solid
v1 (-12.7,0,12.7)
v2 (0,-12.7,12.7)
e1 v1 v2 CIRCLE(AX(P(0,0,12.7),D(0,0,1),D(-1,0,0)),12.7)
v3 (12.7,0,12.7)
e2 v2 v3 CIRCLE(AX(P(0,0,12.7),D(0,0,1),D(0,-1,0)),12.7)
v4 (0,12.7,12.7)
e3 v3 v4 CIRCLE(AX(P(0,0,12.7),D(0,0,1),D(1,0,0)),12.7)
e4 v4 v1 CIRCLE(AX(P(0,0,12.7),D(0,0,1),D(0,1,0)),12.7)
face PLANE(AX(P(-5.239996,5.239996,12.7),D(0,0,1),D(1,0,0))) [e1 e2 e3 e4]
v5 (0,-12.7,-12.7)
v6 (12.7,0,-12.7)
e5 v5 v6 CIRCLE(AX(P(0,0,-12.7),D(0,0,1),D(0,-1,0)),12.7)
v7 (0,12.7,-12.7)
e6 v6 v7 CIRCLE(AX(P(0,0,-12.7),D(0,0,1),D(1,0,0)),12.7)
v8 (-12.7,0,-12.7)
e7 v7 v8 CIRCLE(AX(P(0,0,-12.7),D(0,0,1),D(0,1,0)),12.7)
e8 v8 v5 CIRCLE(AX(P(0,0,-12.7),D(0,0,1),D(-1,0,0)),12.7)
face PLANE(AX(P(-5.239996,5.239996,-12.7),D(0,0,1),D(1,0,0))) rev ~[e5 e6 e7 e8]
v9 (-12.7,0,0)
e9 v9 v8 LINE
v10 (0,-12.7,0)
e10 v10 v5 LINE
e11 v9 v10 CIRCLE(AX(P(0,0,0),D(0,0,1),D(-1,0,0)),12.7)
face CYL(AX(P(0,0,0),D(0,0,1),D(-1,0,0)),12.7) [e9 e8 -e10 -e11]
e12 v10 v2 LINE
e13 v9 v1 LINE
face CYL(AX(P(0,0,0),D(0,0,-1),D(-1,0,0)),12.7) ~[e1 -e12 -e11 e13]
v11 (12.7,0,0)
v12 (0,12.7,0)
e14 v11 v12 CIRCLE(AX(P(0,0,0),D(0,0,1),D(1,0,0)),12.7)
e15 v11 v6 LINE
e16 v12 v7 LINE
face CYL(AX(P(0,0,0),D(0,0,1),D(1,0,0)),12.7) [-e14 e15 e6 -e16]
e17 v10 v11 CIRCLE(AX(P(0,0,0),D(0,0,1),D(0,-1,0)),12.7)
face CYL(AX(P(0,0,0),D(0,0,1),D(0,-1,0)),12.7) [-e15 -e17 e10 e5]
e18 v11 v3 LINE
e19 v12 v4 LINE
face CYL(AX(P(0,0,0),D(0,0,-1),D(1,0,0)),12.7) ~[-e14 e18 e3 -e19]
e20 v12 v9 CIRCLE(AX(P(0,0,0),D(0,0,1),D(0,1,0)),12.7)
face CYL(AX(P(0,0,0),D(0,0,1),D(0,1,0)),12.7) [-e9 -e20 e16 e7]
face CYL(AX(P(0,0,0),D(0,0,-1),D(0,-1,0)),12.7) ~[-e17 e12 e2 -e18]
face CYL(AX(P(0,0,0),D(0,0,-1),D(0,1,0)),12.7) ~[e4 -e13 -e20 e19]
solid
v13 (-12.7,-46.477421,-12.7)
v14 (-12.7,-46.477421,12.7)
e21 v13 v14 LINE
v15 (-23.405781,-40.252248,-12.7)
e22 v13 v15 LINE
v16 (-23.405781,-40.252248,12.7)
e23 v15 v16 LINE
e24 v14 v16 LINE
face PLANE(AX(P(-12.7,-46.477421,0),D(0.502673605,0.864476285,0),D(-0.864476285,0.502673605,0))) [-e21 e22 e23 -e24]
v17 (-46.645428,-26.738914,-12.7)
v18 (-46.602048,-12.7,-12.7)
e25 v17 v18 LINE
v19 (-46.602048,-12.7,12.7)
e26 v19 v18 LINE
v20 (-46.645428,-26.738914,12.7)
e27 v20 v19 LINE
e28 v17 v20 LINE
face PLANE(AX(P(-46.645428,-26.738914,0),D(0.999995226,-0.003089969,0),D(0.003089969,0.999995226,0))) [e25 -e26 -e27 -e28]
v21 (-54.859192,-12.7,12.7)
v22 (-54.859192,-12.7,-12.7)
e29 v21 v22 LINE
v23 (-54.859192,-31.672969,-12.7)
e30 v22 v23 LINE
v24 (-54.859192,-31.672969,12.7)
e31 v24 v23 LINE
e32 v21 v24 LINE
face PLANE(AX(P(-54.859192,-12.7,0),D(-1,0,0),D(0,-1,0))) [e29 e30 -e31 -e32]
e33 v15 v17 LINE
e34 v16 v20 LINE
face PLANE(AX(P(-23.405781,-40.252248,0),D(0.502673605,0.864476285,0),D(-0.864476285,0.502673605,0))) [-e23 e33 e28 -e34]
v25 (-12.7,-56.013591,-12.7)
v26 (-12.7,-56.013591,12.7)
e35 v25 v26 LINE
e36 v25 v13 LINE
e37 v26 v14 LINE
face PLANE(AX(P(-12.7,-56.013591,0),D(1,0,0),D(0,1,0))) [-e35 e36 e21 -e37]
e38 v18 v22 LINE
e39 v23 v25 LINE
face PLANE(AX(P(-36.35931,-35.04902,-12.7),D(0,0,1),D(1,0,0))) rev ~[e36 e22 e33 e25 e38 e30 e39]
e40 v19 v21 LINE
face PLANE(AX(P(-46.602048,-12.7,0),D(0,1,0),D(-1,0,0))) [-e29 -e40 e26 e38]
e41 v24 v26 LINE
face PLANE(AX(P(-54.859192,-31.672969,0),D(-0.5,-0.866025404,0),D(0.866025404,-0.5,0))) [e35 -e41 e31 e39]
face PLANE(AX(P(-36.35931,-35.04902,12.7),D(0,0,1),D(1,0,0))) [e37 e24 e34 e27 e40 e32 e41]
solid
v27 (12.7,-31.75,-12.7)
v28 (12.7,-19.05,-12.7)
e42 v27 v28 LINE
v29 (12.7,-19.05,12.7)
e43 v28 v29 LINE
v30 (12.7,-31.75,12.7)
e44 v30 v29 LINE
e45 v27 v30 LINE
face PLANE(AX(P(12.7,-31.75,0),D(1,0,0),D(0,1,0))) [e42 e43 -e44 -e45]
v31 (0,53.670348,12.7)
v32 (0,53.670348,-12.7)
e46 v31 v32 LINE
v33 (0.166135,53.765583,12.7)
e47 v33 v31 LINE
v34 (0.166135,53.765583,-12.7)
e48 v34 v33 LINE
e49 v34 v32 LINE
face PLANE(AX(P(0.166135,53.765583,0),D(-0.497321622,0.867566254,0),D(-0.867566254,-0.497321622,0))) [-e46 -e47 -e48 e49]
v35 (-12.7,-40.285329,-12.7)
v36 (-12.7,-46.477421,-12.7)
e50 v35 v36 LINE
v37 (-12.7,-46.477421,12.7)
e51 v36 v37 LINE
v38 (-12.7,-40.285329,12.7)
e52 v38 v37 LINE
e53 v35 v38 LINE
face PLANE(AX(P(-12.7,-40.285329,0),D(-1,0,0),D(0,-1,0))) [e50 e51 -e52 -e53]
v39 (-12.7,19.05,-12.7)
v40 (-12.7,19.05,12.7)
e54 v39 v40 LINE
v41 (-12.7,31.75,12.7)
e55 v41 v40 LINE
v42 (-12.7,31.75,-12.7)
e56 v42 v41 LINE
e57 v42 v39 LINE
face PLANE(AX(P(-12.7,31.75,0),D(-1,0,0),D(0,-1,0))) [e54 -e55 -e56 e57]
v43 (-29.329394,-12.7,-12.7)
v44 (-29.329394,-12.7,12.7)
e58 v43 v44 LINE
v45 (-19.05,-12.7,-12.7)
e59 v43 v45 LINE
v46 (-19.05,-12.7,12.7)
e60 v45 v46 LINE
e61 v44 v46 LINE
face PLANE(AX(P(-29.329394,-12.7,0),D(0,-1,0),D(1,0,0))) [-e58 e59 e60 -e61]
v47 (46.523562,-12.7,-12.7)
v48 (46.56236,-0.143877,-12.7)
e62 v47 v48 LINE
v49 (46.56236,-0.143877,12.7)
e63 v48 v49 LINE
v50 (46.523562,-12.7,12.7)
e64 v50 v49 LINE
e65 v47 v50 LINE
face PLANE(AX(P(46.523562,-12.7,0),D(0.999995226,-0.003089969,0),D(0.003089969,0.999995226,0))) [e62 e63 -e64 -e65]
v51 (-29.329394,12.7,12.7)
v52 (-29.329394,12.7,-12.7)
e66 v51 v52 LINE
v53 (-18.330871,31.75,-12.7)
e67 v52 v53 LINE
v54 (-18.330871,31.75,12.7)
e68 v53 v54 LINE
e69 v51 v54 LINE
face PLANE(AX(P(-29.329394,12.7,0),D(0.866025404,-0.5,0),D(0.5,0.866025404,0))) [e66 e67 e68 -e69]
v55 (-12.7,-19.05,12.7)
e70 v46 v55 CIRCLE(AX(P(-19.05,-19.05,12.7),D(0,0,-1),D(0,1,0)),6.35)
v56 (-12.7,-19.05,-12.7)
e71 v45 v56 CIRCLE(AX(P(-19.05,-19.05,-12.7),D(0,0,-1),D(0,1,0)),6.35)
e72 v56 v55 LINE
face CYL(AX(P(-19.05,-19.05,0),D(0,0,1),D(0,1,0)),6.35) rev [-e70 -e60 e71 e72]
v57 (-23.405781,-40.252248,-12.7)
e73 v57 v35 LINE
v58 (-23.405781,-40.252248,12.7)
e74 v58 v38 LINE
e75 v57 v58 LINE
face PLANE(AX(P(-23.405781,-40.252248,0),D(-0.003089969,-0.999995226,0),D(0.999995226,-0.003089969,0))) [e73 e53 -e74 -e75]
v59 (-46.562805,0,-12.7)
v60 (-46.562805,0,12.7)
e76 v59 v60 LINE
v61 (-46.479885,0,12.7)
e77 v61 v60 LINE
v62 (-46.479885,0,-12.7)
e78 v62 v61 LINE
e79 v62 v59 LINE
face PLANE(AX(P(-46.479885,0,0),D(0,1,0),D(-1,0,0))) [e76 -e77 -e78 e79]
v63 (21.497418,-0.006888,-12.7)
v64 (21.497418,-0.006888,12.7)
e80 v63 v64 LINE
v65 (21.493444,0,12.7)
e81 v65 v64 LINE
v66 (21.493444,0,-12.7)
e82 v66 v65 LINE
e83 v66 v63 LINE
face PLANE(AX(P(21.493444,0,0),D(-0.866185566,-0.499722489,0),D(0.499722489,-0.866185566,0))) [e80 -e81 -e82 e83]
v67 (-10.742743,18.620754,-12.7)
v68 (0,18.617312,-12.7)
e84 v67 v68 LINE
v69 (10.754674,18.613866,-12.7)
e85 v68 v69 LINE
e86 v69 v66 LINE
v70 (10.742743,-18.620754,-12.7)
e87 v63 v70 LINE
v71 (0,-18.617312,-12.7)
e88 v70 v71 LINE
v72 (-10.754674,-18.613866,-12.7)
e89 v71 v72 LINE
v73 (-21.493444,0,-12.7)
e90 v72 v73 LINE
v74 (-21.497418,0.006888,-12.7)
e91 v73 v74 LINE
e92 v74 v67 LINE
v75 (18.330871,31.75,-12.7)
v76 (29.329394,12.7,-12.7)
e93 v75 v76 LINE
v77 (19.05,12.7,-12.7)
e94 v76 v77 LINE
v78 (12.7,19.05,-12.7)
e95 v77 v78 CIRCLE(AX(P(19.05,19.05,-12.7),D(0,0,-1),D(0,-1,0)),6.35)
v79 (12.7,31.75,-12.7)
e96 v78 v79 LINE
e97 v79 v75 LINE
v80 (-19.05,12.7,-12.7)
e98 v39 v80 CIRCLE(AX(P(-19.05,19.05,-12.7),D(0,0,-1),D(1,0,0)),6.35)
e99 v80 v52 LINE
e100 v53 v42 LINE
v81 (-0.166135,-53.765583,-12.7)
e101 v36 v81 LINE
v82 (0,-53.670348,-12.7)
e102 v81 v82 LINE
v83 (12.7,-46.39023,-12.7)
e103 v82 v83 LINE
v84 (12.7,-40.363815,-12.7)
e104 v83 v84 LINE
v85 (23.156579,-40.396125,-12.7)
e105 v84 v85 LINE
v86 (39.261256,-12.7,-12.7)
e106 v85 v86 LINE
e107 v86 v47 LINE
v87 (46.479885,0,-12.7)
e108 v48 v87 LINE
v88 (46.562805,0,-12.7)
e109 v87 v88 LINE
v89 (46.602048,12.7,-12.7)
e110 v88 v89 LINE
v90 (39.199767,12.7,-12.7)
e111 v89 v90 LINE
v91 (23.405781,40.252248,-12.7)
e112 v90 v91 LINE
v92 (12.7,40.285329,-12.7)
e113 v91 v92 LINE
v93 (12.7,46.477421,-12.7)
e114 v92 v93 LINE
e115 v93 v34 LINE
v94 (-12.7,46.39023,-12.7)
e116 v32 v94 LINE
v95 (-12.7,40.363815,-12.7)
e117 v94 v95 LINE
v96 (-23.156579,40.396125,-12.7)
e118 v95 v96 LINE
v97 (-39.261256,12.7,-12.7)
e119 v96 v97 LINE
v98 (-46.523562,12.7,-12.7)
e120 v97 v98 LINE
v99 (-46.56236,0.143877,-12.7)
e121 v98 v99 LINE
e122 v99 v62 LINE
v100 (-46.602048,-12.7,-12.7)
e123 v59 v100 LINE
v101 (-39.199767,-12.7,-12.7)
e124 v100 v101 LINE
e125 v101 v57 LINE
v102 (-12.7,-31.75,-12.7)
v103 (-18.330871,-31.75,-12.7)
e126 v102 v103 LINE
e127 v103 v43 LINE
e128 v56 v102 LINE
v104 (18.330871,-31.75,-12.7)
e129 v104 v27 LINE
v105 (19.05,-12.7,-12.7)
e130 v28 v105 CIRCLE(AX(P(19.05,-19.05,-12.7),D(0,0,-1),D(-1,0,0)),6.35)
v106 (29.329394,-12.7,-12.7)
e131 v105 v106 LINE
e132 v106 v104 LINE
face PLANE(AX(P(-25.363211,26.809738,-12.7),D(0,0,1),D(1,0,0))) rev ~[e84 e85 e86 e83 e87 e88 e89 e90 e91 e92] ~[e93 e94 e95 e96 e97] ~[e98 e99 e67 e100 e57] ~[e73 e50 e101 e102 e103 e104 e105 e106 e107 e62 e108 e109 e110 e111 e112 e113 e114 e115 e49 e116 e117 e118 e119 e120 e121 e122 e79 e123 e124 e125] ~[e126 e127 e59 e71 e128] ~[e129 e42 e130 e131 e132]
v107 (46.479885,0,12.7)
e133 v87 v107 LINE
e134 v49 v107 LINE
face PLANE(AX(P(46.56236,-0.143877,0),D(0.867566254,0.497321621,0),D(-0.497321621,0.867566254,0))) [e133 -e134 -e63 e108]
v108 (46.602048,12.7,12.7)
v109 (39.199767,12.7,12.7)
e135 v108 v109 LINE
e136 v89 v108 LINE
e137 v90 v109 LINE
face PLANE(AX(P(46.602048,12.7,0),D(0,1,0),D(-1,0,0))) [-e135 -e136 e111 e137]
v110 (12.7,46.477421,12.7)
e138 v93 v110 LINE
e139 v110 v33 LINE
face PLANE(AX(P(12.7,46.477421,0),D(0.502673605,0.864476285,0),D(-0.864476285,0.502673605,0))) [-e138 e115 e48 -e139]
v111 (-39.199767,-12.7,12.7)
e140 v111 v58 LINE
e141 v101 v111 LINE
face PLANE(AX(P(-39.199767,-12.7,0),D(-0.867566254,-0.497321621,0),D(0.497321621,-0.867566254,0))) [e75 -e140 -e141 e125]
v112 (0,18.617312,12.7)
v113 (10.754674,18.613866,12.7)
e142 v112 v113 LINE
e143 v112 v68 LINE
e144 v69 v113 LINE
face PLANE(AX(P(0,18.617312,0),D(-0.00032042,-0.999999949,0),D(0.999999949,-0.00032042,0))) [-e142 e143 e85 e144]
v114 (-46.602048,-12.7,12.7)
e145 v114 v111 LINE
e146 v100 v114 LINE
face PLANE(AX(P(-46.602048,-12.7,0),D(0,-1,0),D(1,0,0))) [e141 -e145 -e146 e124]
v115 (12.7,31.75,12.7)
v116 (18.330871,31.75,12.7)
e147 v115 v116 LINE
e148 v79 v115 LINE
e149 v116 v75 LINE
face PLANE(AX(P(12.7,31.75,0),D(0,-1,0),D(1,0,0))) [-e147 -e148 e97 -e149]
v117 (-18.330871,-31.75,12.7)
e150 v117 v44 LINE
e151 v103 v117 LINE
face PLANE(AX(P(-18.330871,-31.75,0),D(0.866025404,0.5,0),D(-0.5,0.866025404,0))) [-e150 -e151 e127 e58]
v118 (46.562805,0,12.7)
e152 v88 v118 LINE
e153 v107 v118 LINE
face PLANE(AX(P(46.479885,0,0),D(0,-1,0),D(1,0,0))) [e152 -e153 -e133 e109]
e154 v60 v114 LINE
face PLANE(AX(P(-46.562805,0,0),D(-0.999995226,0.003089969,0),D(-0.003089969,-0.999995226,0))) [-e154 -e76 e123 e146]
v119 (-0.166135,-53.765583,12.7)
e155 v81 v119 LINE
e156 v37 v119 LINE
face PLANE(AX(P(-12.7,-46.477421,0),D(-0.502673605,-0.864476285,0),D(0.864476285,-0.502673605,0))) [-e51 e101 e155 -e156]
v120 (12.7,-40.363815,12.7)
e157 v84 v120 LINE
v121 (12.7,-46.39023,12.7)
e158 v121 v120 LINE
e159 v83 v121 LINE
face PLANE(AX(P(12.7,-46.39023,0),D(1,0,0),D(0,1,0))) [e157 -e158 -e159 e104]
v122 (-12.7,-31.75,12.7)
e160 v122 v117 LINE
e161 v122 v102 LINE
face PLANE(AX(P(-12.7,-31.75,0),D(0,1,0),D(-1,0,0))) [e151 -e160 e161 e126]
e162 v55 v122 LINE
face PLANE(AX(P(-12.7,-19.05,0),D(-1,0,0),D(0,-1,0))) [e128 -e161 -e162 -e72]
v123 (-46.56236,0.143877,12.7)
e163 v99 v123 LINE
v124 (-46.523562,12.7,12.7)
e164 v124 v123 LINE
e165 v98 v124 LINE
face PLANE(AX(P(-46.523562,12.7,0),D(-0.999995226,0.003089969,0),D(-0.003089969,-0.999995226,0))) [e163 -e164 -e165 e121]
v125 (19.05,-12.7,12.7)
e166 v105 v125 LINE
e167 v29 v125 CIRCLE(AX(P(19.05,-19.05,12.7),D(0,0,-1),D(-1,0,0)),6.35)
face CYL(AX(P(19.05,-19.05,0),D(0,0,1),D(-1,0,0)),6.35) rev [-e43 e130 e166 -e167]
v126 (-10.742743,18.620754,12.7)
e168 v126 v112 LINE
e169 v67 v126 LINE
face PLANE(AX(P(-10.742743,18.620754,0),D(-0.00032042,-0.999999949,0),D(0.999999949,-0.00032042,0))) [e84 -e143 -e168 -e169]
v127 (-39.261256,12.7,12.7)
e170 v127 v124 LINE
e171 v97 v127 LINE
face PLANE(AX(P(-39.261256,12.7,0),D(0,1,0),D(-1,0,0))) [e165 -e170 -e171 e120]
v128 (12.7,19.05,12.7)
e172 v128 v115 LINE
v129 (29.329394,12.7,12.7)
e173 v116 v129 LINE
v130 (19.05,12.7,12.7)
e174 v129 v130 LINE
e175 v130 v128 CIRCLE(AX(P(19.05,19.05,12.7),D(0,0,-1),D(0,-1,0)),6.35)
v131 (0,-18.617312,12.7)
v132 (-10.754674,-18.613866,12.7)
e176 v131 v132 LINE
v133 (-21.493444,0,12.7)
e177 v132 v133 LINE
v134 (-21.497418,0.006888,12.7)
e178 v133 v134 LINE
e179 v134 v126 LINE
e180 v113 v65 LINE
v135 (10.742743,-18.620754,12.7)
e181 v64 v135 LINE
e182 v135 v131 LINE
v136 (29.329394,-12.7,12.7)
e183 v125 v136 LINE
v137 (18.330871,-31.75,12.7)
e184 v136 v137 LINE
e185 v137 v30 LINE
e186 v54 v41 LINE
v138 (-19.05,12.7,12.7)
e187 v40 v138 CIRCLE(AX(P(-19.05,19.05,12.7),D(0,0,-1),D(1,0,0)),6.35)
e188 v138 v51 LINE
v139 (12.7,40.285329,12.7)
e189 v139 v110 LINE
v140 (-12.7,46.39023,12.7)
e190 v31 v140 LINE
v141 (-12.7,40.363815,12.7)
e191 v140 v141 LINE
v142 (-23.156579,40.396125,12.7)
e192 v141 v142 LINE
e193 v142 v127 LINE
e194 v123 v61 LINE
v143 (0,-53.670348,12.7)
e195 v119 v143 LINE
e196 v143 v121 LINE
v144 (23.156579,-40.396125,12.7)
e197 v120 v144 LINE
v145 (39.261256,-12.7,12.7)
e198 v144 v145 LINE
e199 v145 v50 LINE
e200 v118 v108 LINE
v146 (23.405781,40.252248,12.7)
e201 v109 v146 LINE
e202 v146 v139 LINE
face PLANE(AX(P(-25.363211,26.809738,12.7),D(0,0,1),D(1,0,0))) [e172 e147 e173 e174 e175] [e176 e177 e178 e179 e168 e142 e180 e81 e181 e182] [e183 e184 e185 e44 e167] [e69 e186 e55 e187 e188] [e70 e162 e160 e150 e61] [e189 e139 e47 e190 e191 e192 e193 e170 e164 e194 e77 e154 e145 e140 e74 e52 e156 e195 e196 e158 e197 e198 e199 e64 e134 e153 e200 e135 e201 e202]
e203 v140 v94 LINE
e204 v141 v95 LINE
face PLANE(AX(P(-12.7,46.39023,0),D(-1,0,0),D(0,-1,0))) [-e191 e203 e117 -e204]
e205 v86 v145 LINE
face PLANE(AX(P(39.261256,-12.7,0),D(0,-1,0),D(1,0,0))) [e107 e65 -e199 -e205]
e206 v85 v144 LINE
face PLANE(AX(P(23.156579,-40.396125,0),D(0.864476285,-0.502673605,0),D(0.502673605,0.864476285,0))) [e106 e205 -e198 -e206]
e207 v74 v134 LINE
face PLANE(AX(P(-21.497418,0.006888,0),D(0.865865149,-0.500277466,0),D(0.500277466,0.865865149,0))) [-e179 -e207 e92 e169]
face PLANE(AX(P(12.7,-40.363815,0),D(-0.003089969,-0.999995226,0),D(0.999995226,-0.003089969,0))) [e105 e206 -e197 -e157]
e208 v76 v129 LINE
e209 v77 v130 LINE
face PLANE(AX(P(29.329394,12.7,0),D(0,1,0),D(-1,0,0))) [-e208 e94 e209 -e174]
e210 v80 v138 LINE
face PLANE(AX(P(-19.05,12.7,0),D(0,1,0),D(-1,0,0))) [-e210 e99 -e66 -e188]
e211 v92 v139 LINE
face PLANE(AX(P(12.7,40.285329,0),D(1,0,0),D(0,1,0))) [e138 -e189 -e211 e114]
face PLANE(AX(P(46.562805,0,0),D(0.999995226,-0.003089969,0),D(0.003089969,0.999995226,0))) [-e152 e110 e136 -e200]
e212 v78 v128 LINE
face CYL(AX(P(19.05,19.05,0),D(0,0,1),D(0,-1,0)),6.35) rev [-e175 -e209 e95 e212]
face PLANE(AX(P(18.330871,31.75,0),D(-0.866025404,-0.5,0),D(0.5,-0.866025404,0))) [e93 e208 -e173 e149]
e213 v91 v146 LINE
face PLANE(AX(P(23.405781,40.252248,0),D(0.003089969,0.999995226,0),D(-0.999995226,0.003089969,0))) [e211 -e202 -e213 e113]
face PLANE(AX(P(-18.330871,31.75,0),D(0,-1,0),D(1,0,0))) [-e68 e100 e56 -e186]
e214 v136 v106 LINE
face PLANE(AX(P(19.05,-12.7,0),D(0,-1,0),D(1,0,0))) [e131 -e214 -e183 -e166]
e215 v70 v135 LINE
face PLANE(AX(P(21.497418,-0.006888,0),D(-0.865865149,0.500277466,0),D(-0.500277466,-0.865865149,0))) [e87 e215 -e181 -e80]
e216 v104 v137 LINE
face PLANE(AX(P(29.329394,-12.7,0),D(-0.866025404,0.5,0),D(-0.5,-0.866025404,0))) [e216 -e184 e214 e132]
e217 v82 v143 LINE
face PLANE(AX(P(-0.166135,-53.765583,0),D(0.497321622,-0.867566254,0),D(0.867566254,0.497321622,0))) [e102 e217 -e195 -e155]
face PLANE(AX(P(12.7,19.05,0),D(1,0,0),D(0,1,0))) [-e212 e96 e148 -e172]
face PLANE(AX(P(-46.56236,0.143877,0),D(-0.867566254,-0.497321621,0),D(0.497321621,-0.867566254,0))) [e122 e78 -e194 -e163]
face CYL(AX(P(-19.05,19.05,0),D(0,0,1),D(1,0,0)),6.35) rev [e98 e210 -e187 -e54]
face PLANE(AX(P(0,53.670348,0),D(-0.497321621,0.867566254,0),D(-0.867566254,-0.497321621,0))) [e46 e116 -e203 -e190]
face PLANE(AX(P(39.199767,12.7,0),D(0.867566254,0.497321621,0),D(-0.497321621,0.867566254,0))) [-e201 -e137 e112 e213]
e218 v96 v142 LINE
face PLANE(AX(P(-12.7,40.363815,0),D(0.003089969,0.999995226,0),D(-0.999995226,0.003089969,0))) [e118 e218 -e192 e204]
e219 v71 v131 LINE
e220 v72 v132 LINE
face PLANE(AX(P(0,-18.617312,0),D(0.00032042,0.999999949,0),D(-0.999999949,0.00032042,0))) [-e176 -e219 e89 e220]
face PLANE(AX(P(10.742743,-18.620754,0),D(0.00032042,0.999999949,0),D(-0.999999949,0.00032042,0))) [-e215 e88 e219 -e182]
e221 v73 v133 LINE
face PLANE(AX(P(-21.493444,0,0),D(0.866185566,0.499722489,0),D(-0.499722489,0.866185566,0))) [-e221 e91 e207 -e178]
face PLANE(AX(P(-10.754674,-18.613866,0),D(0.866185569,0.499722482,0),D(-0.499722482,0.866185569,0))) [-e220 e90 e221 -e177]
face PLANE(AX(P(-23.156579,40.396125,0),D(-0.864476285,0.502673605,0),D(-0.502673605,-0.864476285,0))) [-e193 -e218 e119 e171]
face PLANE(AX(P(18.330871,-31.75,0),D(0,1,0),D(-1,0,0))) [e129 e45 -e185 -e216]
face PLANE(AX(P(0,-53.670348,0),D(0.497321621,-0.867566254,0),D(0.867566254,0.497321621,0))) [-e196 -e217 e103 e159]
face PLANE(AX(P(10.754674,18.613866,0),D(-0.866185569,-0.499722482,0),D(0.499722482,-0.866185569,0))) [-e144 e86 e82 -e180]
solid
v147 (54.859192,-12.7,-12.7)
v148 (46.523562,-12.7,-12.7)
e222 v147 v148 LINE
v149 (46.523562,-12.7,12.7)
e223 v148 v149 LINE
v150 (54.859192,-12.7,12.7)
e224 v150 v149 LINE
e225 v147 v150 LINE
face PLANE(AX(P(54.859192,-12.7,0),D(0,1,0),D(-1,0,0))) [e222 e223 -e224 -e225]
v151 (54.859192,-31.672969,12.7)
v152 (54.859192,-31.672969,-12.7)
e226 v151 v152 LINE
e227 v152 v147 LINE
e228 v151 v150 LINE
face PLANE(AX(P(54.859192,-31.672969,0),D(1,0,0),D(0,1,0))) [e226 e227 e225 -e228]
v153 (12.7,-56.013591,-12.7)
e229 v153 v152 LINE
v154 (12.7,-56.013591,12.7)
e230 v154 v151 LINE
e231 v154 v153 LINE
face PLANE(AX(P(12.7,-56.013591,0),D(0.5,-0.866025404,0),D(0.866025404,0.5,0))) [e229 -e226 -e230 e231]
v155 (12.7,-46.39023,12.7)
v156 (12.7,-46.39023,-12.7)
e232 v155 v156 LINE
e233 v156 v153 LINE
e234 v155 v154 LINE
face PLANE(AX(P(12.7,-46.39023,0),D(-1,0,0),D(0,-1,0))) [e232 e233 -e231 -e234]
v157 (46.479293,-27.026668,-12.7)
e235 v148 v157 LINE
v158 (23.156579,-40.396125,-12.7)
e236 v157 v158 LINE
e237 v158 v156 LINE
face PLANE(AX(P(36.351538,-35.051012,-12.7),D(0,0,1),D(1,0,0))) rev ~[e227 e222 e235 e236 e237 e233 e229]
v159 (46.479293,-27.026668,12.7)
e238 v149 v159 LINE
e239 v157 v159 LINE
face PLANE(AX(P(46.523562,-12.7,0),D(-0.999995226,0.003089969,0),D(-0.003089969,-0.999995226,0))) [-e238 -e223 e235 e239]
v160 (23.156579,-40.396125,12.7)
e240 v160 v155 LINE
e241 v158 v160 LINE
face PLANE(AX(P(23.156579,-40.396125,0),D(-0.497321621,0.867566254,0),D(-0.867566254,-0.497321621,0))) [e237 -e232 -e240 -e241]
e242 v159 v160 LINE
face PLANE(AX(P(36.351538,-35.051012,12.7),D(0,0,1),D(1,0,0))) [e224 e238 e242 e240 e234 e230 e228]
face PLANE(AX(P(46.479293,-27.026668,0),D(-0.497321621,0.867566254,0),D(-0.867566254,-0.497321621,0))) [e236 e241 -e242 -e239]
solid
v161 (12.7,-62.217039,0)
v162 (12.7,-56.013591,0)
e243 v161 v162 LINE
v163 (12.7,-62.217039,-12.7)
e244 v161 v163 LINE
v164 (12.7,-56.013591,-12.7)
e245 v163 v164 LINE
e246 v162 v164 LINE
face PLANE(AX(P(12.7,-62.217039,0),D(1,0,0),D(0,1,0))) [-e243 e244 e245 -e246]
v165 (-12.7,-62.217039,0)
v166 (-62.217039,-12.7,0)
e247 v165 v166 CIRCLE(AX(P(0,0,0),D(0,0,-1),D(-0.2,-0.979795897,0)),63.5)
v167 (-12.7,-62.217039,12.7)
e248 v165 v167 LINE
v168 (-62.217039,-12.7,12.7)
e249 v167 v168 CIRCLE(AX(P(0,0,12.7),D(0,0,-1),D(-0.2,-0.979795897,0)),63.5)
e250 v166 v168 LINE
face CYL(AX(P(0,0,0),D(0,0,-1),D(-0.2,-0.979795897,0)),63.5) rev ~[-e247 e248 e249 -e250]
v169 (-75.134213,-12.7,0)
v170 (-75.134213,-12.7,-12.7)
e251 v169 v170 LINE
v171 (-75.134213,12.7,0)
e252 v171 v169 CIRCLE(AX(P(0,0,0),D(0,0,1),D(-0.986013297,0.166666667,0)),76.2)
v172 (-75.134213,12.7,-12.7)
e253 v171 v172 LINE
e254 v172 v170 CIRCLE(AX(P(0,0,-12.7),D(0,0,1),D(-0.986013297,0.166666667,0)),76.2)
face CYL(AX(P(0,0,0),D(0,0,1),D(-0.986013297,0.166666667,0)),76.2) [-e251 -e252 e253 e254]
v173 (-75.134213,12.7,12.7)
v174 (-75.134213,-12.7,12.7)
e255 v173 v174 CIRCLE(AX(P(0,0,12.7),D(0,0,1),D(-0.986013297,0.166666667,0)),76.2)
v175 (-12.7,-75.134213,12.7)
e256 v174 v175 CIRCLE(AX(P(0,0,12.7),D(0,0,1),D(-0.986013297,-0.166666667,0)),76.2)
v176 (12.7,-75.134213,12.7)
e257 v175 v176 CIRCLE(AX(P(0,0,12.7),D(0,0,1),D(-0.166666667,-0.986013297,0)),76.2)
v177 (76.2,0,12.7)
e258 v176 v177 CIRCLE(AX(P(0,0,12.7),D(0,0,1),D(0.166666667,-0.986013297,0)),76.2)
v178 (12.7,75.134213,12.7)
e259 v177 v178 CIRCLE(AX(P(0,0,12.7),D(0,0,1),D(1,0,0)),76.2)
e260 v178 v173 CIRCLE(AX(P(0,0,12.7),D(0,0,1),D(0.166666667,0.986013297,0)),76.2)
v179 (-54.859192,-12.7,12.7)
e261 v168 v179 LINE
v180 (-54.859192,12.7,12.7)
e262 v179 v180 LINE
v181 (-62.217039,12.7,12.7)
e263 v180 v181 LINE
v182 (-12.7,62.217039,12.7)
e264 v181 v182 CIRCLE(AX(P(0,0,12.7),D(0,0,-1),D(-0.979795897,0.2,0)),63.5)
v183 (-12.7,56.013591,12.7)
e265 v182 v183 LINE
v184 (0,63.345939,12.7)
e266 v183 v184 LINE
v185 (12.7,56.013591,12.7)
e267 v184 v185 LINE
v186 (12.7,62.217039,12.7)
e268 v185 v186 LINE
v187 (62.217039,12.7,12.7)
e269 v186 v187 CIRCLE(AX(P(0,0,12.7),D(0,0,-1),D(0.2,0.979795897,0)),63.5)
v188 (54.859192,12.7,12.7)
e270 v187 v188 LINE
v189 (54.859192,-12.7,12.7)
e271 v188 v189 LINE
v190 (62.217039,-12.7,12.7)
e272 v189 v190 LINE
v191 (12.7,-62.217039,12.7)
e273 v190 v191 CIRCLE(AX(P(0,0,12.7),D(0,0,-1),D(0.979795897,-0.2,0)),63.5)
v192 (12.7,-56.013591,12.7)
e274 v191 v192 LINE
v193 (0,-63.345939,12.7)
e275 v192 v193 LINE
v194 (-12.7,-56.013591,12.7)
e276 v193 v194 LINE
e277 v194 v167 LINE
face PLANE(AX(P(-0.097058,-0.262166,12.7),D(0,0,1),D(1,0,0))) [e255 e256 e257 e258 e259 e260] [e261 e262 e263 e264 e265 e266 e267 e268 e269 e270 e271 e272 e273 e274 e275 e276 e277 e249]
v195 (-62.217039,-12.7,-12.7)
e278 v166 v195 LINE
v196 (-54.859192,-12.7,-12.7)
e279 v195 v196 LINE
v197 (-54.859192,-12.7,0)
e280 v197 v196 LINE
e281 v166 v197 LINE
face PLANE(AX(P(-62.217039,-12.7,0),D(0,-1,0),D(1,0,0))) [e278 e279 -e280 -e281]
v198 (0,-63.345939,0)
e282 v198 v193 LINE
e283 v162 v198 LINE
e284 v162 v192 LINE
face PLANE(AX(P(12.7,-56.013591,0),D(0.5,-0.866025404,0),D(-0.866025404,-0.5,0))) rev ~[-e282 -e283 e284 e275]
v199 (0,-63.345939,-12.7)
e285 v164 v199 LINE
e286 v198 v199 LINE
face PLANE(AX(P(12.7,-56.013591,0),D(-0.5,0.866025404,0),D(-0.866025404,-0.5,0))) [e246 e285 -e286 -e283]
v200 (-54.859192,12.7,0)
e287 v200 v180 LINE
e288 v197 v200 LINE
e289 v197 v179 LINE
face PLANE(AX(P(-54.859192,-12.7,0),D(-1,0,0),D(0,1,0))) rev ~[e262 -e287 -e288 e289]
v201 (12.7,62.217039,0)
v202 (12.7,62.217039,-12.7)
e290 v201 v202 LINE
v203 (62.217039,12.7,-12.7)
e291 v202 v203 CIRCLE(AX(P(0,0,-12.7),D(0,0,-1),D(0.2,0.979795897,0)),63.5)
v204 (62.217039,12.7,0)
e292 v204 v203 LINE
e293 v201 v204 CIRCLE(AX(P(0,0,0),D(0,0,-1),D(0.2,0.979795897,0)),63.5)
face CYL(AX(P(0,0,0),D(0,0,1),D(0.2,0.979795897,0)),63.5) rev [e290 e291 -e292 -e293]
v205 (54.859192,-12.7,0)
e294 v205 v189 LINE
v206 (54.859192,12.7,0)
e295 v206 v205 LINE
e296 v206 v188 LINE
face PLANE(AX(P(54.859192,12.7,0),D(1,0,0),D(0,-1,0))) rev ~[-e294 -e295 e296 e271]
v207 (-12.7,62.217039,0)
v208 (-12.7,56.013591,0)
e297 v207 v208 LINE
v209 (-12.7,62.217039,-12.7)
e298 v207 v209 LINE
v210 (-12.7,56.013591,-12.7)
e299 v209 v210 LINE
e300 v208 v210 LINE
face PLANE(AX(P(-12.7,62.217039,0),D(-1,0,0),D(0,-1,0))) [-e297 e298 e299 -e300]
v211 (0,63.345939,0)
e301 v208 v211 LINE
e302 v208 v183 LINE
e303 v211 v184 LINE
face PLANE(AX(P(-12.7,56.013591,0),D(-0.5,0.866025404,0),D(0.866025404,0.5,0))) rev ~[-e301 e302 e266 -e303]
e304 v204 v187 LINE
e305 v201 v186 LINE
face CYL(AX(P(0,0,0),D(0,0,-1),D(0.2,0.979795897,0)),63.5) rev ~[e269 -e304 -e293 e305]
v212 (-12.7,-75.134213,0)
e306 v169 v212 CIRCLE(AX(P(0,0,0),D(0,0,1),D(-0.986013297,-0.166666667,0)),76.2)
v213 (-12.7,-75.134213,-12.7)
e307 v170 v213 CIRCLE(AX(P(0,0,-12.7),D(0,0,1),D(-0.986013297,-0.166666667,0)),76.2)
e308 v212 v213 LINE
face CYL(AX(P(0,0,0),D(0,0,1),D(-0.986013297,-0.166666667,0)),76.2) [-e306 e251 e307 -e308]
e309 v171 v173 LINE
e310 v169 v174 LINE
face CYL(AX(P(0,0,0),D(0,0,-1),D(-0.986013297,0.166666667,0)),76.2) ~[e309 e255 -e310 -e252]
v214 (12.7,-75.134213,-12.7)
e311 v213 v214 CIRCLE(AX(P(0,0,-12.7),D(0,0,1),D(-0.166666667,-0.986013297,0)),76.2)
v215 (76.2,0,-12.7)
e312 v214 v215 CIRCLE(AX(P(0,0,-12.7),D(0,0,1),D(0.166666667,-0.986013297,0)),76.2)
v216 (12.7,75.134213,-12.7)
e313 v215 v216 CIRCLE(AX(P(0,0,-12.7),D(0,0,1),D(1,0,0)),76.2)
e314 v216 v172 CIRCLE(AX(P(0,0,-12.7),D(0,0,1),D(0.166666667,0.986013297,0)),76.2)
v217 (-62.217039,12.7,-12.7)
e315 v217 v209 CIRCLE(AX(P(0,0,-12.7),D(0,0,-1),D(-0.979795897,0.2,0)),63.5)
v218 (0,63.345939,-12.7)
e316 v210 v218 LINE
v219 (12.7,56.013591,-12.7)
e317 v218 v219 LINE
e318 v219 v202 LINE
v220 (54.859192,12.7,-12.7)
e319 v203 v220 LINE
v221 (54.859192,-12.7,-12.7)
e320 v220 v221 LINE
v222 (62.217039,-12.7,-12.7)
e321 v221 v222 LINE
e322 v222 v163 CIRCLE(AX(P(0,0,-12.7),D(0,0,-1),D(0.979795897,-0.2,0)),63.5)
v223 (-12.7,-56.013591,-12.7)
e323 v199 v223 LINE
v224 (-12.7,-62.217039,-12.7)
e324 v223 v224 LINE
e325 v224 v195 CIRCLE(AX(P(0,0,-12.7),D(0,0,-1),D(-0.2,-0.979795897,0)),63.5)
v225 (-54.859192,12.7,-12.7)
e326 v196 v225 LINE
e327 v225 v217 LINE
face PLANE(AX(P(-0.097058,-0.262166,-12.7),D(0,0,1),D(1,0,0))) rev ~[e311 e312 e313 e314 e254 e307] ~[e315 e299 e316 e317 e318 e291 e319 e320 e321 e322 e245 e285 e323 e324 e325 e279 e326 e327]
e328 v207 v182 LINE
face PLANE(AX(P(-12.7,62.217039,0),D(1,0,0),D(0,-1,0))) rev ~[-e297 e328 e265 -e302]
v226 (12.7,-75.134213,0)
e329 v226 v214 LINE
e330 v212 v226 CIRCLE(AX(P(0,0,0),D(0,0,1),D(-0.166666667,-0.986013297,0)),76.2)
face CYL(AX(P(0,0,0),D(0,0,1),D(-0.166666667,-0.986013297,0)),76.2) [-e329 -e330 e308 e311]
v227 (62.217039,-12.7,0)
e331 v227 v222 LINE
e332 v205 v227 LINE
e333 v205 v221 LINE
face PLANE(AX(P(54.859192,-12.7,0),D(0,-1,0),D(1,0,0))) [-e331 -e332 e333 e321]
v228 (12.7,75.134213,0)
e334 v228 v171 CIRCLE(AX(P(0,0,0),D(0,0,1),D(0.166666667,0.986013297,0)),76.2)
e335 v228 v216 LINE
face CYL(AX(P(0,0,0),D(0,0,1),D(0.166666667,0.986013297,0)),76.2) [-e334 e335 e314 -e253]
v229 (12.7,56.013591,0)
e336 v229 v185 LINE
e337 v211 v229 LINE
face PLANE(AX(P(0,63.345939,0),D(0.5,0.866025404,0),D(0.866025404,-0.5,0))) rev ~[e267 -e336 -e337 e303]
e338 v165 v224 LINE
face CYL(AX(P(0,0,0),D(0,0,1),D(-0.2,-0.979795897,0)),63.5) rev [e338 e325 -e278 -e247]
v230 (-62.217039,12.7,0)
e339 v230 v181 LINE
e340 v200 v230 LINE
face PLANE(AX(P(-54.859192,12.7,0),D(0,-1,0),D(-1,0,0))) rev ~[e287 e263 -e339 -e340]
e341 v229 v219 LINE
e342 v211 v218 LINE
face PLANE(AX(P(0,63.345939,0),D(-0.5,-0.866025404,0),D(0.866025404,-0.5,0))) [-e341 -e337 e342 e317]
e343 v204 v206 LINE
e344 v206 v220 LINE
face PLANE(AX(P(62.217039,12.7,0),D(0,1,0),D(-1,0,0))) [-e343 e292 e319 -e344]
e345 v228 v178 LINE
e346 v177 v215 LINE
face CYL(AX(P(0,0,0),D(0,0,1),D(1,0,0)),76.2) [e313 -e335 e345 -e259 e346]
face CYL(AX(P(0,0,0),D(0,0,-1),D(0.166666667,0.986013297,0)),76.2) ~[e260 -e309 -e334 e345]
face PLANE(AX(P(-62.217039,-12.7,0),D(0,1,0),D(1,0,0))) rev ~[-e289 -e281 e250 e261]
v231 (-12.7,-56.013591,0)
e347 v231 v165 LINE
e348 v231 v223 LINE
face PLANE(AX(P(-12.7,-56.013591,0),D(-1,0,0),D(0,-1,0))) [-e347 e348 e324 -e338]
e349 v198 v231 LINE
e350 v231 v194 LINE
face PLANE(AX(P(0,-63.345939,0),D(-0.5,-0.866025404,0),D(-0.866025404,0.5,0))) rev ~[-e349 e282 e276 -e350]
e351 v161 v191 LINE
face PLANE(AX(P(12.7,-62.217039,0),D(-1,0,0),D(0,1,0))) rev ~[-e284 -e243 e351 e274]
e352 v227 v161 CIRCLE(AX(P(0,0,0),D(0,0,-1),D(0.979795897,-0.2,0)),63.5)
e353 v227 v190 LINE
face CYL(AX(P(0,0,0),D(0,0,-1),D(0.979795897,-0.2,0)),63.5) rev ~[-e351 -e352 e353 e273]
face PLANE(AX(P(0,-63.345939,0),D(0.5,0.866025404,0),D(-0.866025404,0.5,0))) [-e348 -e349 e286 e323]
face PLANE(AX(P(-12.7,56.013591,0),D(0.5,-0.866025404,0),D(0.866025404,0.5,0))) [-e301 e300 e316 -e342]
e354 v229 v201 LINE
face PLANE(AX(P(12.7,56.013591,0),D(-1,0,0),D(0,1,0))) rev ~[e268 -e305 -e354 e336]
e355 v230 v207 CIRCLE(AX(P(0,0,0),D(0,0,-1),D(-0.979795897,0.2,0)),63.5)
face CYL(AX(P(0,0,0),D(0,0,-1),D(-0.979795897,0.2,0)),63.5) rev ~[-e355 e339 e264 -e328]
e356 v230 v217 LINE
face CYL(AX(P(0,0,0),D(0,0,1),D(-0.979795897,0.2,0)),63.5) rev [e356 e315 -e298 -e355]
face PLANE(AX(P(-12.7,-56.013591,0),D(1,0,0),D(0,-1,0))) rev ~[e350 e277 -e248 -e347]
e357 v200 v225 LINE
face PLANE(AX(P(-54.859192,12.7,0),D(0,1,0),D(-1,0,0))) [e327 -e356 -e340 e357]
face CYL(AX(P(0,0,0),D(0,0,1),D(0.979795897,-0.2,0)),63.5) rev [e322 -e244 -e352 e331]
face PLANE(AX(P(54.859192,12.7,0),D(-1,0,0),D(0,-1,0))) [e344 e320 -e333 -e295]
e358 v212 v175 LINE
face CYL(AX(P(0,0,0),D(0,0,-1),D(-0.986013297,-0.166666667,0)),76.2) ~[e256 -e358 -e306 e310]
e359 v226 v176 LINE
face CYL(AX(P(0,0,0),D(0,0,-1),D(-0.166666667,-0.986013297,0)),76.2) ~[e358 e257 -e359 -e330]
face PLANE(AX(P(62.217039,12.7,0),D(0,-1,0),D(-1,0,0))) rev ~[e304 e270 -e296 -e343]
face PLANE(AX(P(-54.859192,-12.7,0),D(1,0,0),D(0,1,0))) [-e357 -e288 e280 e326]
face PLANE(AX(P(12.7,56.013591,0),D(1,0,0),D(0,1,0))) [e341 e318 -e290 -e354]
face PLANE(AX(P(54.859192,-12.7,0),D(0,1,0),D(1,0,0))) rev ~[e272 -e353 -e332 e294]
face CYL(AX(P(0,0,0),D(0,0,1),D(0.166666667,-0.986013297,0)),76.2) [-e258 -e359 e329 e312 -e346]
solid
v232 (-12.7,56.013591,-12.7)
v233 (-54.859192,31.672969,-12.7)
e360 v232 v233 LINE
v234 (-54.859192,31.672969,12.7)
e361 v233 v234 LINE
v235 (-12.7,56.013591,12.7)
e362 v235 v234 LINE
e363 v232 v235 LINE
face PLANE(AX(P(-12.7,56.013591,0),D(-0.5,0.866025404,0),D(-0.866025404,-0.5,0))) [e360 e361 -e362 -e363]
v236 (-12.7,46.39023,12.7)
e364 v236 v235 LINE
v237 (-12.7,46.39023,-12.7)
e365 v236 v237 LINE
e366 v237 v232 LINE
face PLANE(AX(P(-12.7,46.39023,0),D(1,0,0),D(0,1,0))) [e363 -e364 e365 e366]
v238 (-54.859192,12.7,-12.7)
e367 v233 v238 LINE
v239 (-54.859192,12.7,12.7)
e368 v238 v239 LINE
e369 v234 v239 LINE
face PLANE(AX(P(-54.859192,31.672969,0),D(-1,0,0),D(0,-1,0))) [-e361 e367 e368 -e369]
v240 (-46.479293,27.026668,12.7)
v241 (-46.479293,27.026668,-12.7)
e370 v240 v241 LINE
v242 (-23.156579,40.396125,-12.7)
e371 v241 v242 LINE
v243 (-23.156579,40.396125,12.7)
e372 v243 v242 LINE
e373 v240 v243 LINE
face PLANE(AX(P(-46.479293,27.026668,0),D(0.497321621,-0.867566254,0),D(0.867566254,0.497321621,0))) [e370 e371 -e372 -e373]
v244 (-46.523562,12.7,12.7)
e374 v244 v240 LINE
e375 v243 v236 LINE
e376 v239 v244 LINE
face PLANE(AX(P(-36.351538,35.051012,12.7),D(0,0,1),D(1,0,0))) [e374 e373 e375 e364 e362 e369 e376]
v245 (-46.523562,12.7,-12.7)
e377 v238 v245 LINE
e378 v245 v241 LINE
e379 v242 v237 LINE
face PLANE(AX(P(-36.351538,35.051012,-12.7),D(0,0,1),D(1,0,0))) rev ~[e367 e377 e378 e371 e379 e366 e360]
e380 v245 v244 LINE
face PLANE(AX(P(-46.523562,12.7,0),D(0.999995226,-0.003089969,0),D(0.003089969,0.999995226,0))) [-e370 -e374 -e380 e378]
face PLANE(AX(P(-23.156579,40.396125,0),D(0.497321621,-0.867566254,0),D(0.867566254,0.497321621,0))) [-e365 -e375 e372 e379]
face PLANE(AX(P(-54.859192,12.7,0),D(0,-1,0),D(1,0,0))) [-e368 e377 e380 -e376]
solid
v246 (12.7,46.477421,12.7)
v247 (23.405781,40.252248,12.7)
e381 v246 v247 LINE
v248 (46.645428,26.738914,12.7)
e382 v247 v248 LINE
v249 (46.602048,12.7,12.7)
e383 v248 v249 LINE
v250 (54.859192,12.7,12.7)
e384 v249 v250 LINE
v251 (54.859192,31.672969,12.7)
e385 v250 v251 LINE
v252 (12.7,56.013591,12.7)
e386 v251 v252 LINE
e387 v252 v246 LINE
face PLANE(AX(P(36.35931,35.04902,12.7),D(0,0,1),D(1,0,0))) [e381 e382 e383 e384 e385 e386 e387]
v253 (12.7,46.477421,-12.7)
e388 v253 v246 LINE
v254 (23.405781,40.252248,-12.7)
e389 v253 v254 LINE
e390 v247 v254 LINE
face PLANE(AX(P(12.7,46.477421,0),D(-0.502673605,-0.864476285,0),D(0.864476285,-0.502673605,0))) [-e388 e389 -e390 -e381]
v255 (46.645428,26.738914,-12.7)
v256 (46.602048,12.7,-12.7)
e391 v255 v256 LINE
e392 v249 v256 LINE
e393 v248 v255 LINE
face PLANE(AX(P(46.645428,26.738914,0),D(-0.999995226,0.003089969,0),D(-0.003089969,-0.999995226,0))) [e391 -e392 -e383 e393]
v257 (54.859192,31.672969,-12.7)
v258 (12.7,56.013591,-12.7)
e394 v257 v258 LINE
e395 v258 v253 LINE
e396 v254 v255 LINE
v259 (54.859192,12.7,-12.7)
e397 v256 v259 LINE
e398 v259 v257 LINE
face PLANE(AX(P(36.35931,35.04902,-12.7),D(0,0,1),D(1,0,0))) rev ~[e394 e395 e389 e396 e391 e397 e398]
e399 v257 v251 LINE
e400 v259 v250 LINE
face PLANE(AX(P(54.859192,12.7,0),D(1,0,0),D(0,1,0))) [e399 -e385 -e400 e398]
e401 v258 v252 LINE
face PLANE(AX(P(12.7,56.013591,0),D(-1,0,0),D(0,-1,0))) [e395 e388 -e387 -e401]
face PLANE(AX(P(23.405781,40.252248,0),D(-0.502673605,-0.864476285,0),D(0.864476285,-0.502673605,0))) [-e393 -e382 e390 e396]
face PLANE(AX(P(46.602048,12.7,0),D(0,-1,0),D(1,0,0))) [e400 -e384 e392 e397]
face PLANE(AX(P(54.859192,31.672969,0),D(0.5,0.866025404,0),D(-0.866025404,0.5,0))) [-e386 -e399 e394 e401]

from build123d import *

# Parameters (mm, degrees)
F1_DEPTH = 12.7


with BuildPart() as f1:
    # F0 (on Top) → F1 (new body, symmetric)
    with BuildSketch(Plane.XY):
        with BuildLine():
            ThreePointArc((75.1342132454, -12.7), (75.9330858365, -6.3723210333), (76.2, 0))
            ThreePointArc((76.2, 0), (75.9330858365, 6.3723210333), (75.1342132454, 12.7))
            ThreePointArc((75.1342132454, 12.7), (53.8815367264, 53.8815367264), (12.7, 75.1342132454))
            ThreePointArc((12.7, 75.1342132454), (7.78e-08, 76.2), (-12.6999998465, 75.1342132713))
            ThreePointArc((-12.6999998465, 75.1342132713), (-53.8815366714, 53.8815367814), (-75.1342132454, 12.7))
            ThreePointArc((-75.1342132454, 12.7), (-76.2, 0), (-75.1342132454, -12.7))
            ThreePointArc((-75.1342132454, -12.7), (-53.8815367264, -53.8815367264), (-12.7, -75.1342132454))
            ThreePointArc((-12.7, -75.1342132454), (0, -76.2), (12.7, -75.1342132454))
            ThreePointArc((12.7, -75.1342132454), (53.8815367264, -53.8815367264), (75.1342132454, -12.7))
        make_face()
        with BuildLine():
            ThreePointArc((12.7, 62.2170394667), (44.9012806053, 44.9012806053), (62.2170394667, 12.7))
            Line((62.2170394667, 12.7), (54.8591923875, 12.7))
            Line((54.8591923875, 12.7), (54.8591923875, 0))
            Line((54.8591923875, 0), (54.8591923875, -12.7))
            Line((54.8591923875, -12.7), (62.2170394667, -12.7))
            ThreePointArc((62.2170394667, -12.7), (44.9012806053, -44.9012806053), (12.7, -62.2170394667))
            Line((12.7, -62.2170394667), (12.7, -56.0135905662))
            Line((12.7, -56.0135905662), (0, -63.345938985))
            Line((0, -63.345938985), (-12.7, -56.0135905662))
            Line((-12.7, -56.0135905662), (-12.7, -62.2170394667))
            ThreePointArc((-12.7, -62.2170394667), (-44.9012806053, -44.9012806053), (-62.2170394667, -12.7))
            Line((-62.2170394667, -12.7), (-54.8591923875, -12.7))
            Line((-54.8591923875, -12.7), (-54.8591923875, 0))
            Line((-54.8591923875, 0), (-54.8591923875, 12.7))
            Line((-54.8591923875, 12.7), (-62.2170394667, 12.7))
            ThreePointArc((-62.2170394667, 12.7), (-44.90128055, 44.9012806607), (-12.6999998465, 62.217039498))
            Line((-12.6999998465, 62.217039498), (-12.6999998465, 56.0135906549))
            Line((-12.6999998465, 56.0135906549), (0, 63.345938985))
            Line((0, 63.345938985), (12.7, 56.0135905662))
            Line((12.7, 56.0135905662), (12.7, 62.2170394667))
        make_face(mode=Mode.SUBTRACT)
    extrude(amount=F1_DEPTH, both=True)


with BuildPart() as f1b:
    # F0 (on Top) → F1, piece 2 (new body, symmetric)
    with BuildSketch(Plane.XY):
        Polygon((-12.6999998465, 31.75), (-12.6999998465, 40.3638147368), (-23.1565790973, 40.3961253963), (-39.2612559174, 12.7), (-29.3293936748, 12.7), (-18.3308710468, 31.75), align=None)
        Polygon((-29.3293936748, 12.7), (-39.2612559174, 12.7), (-46.5623603563, 0.1438769352), (-46.4798846833, 0), (-36.6617420935, 0), align=None)
        Polygon((-29.3293936748, -12.7), (-36.6617420935, 0), (-46.4798846833, 0), (-39.1997668094, -12.7), align=None)
        Polygon((-23.405781259, -40.2522484612), (-12.7, -40.2853291509), (-12.7, -31.75), (-18.3308710468, -31.75), (-29.3293936748, -12.7), (-39.1997668094, -12.7), align=None)
        Polygon((-12.7, -40.2853291509), (0, -40.3245719441), (0, -31.75), (-12.7, -31.75), align=None)
        Polygon((0, -40.3245719441), (12.7, -40.3638147372), (12.7, -31.75), (0, -31.75), align=None)
        Polygon((23.1565790973, -40.3961253963), (39.2612559174, -12.7), (29.3293936748, -12.7), (18.3308710468, -31.75), (12.7, -31.75), (12.7, -40.3638147372), align=None)
        Polygon((46.5623603563, -0.1438769352), (46.4798846833, 0), (36.6617420935, 0), (29.3293936748, -12.7), (39.2612559174, -12.7), align=None)
        Polygon((46.4798846833, 0), (39.1997668094, 12.7), (29.3293936748, 12.7), (36.6617420935, 0), align=None)
        Polygon((29.3293936748, 12.7), (39.1997668094, 12.7), (23.405781259, 40.2522484612), (12.7, 40.2853291509), (12.7, 31.75), (18.3308710468, 31.75), align=None)
        Polygon((12.7, 31.75), (12.7, 40.2853291509), (0, 40.3245719441), (0, 31.75), align=None)
        Polygon((0, 31.75), (0, 40.3245719441), (-12.6999998465, 40.3638147368), (-12.6999998465, 31.75), align=None)
        with BuildLine():
            Line((36.6617420935, 0), (29.3293936748, 12.7))
            Line((29.3293936748, 12.7), (19.05, 12.7))
            ThreePointArc((19.05, 12.7), (14.5598719395, 14.5598719395), (12.7, 19.05))
            Line((12.7, 19.05), (12.7, 31.75))
            Line((12.7, 31.75), (0, 31.75))
            Line((0, 31.75), (0, 18.6173117573))
            Line((0, 18.6173117573), (10.7546742122, 18.613865743))
            Line((10.7546742122, 18.613865743), (21.493443737, 0))
            Line((21.493443737, 0), (36.6617420935, 0))
        make_face()
        with BuildLine():
            Line((29.3293936748, -12.7), (36.6617420935, 0))
            Line((36.6617420935, 0), (21.493443737, 0))
            Line((21.493443737, 0), (21.4974177022, -0.0068882057))
            Line((21.4974177022, -0.0068882057), (10.74274349, -18.6207539487))
            Line((10.74274349, -18.6207539487), (0, -18.6173117573))
            Line((0, -18.6173117573), (0, -31.75))
            Line((0, -31.75), (12.7, -31.75))
            Line((12.7, -31.75), (12.7, -19.05))
            ThreePointArc((12.7, -19.05), (14.5598719395, -14.5598719395), (19.05, -12.7))
            Line((19.05, -12.7), (29.3293936748, -12.7))
        make_face()
        with BuildLine():
            Line((-21.493443737, 0), (-36.6617420935, 0))
            Line((-36.6617420935, 0), (-29.3293936748, -12.7))
            Line((-29.3293936748, -12.7), (-19.05, -12.7))
            ThreePointArc((-19.05, -12.7), (-14.5598719395, -14.5598719395), (-12.7, -19.05))
            Line((-12.7, -19.05), (-12.7, -31.75))
            Line((-12.7, -31.75), (0, -31.75))
            Line((0, -31.75), (0, -18.6173117573))
            Line((0, -18.6173117573), (-10.7546742122, -18.613865743))
            Line((-10.7546742122, -18.613865743), (-21.493443737, 0))
        make_face()
        with BuildLine():
            Line((0, 18.6173117573), (0, 31.75))
            Line((0, 31.75), (-12.6999998465, 31.75))
            Line((-12.6999998465, 31.75), (-12.6999998465, 19.05))
            ThreePointArc((-12.6999998465, 19.05), (-14.559871786, 14.5598719395), (-19.0499998465, 12.7))
            Line((-19.0499998465, 12.7), (-29.3293936748, 12.7))
            Line((-29.3293936748, 12.7), (-36.6617420935, 0))
            Line((-36.6617420935, 0), (-21.493443737, 0))
            Line((-21.493443737, 0), (-21.4974177022, 0.0068882057))
            Line((-21.4974177022, 0.0068882057), (-10.74274349, 18.6207539487))
            Line((-10.74274349, 18.6207539487), (0, 18.6173117573))
        make_face()
        Polygon((0, 40.3245719441), (0, 53.6703478676), (-12.6999998465, 46.3902300817), (-12.6999998465, 40.3638147368), align=None)
        Polygon((12.7, 40.2853291509), (12.7, 46.477420568), (0.1661347745, 53.7655825717), (0, 53.6703478676), (0, 40.3245719441), align=None)
        Polygon((46.5628049337, 0), (46.6020477269, 12.7), (39.1997668094, 12.7), (46.4798846833, 0), align=None)
        Polygon((46.5235621406, -12.7), (46.5623603563, -0.1438769352), (39.2612559174, -12.7), align=None)
        Polygon((0, -53.6703478676), (12.7, -46.3902299937), (12.7, -40.3638147372), (0, -40.3245719441), align=None)
        Polygon((-0.1661347745, -53.7655825717), (0, -53.6703478676), (0, -40.3245719441), (-12.7, -40.2853291509), (-12.7, -46.477420568), align=None)
        Polygon((-46.4798846833, 0), (-46.5628049337, 0), (-46.6020477269, -12.7), (-39.1997668094, -12.7), align=None)
        Polygon((-46.5623603563, 0.1438769352), (-39.2612559174, 12.7), (-46.5235621406, 12.7), align=None)
    extrude(amount=F1_DEPTH, both=True)


with BuildPart() as f1c:
    # F0 (on Top) → F1, piece 3 (new body, symmetric)
    with BuildSketch(Plane.XY):
        Polygon((46.6020477269, 12.7), (54.8591923875, 12.7), (54.8591923875, 31.6729694925), (12.7, 56.0135905662), (12.7, 46.477420568), (23.405781259, 40.2522484612), (46.6454277436, 26.7389143507), align=None)
    extrude(amount=F1_DEPTH, both=True)


with BuildPart() as f1d:
    # F0 (on Top) → F1, piece 4 (new body, symmetric)
    with BuildSketch(Plane.XY):
        Polygon((54.8591923875, -31.6729694925), (54.8591923875, -12.7), (46.5235621406, -12.7), (46.4792929691, -27.026668221), (23.1565790973, -40.3961253963), (12.7, -46.3902299937), (12.7, -56.0135905662), align=None)
    extrude(amount=F1_DEPTH, both=True)


with BuildPart() as f1e:
    # F0 (on Top) → F1, piece 5 (new body, symmetric)
    with BuildSketch(Plane.XY):
        Polygon((-54.8591923875, -31.6729694925), (-12.7, -56.0135905662), (-12.7, -46.477420568), (-23.405781259, -40.2522484612), (-46.6454277436, -26.7389143507), (-46.6020477269, -12.7), (-54.8591923875, -12.7), align=None)
    extrude(amount=F1_DEPTH, both=True)


with BuildPart() as f1f:
    # F0 (on Top) → F1, piece 6 (new body, symmetric)
    with BuildSketch(Plane.XY):
        Polygon((-12.6999998465, 46.3902300817), (-12.6999998465, 56.0135906549), (-54.8591923875, 31.6729694925), (-54.8591923875, 12.7), (-46.5235621406, 12.7), (-46.4792929691, 27.026668221), (-23.1565790973, 40.3961253963), align=None)
    extrude(amount=F1_DEPTH, both=True)


with BuildPart() as f1g:
    # F0 (on Top) → F1, piece 7 (new body, symmetric)
    with BuildSketch(Plane.XY):
        with BuildLine():
            Line((0, 0), (0, 12.7))
            ThreePointArc((0, 12.7), (-8.9802561211, 8.9802561211), (-12.7, 0))
            Line((-12.7, 0), (0, 0))
        make_face()
        with BuildLine():
            Line((0, 0), (12.7, 0))
            ThreePointArc((12.7, 0), (8.9802561211, 8.9802561211), (0, 12.7))
            Line((0, 12.7), (0, 0))
        make_face()
        with BuildLine():
            ThreePointArc((0, -12.7), (8.9802561211, -8.9802561211), (12.7, 0))
            Line((12.7, 0), (0, 0))
            Line((0, 0), (0, -12.7))
        make_face()
        with BuildLine():
            ThreePointArc((-12.7, 0), (-8.9802561211, -8.9802561211), (0, -12.7))
            Line((0, -12.7), (0, 0))
            Line((0, 0), (-12.7, 0))
        make_face()
    extrude(amount=F1_DEPTH, both=True)


solid = Compound([f1.part, f1b.part, f1c.part, f1d.part, f1e.part, f1f.part, f1g.part])
